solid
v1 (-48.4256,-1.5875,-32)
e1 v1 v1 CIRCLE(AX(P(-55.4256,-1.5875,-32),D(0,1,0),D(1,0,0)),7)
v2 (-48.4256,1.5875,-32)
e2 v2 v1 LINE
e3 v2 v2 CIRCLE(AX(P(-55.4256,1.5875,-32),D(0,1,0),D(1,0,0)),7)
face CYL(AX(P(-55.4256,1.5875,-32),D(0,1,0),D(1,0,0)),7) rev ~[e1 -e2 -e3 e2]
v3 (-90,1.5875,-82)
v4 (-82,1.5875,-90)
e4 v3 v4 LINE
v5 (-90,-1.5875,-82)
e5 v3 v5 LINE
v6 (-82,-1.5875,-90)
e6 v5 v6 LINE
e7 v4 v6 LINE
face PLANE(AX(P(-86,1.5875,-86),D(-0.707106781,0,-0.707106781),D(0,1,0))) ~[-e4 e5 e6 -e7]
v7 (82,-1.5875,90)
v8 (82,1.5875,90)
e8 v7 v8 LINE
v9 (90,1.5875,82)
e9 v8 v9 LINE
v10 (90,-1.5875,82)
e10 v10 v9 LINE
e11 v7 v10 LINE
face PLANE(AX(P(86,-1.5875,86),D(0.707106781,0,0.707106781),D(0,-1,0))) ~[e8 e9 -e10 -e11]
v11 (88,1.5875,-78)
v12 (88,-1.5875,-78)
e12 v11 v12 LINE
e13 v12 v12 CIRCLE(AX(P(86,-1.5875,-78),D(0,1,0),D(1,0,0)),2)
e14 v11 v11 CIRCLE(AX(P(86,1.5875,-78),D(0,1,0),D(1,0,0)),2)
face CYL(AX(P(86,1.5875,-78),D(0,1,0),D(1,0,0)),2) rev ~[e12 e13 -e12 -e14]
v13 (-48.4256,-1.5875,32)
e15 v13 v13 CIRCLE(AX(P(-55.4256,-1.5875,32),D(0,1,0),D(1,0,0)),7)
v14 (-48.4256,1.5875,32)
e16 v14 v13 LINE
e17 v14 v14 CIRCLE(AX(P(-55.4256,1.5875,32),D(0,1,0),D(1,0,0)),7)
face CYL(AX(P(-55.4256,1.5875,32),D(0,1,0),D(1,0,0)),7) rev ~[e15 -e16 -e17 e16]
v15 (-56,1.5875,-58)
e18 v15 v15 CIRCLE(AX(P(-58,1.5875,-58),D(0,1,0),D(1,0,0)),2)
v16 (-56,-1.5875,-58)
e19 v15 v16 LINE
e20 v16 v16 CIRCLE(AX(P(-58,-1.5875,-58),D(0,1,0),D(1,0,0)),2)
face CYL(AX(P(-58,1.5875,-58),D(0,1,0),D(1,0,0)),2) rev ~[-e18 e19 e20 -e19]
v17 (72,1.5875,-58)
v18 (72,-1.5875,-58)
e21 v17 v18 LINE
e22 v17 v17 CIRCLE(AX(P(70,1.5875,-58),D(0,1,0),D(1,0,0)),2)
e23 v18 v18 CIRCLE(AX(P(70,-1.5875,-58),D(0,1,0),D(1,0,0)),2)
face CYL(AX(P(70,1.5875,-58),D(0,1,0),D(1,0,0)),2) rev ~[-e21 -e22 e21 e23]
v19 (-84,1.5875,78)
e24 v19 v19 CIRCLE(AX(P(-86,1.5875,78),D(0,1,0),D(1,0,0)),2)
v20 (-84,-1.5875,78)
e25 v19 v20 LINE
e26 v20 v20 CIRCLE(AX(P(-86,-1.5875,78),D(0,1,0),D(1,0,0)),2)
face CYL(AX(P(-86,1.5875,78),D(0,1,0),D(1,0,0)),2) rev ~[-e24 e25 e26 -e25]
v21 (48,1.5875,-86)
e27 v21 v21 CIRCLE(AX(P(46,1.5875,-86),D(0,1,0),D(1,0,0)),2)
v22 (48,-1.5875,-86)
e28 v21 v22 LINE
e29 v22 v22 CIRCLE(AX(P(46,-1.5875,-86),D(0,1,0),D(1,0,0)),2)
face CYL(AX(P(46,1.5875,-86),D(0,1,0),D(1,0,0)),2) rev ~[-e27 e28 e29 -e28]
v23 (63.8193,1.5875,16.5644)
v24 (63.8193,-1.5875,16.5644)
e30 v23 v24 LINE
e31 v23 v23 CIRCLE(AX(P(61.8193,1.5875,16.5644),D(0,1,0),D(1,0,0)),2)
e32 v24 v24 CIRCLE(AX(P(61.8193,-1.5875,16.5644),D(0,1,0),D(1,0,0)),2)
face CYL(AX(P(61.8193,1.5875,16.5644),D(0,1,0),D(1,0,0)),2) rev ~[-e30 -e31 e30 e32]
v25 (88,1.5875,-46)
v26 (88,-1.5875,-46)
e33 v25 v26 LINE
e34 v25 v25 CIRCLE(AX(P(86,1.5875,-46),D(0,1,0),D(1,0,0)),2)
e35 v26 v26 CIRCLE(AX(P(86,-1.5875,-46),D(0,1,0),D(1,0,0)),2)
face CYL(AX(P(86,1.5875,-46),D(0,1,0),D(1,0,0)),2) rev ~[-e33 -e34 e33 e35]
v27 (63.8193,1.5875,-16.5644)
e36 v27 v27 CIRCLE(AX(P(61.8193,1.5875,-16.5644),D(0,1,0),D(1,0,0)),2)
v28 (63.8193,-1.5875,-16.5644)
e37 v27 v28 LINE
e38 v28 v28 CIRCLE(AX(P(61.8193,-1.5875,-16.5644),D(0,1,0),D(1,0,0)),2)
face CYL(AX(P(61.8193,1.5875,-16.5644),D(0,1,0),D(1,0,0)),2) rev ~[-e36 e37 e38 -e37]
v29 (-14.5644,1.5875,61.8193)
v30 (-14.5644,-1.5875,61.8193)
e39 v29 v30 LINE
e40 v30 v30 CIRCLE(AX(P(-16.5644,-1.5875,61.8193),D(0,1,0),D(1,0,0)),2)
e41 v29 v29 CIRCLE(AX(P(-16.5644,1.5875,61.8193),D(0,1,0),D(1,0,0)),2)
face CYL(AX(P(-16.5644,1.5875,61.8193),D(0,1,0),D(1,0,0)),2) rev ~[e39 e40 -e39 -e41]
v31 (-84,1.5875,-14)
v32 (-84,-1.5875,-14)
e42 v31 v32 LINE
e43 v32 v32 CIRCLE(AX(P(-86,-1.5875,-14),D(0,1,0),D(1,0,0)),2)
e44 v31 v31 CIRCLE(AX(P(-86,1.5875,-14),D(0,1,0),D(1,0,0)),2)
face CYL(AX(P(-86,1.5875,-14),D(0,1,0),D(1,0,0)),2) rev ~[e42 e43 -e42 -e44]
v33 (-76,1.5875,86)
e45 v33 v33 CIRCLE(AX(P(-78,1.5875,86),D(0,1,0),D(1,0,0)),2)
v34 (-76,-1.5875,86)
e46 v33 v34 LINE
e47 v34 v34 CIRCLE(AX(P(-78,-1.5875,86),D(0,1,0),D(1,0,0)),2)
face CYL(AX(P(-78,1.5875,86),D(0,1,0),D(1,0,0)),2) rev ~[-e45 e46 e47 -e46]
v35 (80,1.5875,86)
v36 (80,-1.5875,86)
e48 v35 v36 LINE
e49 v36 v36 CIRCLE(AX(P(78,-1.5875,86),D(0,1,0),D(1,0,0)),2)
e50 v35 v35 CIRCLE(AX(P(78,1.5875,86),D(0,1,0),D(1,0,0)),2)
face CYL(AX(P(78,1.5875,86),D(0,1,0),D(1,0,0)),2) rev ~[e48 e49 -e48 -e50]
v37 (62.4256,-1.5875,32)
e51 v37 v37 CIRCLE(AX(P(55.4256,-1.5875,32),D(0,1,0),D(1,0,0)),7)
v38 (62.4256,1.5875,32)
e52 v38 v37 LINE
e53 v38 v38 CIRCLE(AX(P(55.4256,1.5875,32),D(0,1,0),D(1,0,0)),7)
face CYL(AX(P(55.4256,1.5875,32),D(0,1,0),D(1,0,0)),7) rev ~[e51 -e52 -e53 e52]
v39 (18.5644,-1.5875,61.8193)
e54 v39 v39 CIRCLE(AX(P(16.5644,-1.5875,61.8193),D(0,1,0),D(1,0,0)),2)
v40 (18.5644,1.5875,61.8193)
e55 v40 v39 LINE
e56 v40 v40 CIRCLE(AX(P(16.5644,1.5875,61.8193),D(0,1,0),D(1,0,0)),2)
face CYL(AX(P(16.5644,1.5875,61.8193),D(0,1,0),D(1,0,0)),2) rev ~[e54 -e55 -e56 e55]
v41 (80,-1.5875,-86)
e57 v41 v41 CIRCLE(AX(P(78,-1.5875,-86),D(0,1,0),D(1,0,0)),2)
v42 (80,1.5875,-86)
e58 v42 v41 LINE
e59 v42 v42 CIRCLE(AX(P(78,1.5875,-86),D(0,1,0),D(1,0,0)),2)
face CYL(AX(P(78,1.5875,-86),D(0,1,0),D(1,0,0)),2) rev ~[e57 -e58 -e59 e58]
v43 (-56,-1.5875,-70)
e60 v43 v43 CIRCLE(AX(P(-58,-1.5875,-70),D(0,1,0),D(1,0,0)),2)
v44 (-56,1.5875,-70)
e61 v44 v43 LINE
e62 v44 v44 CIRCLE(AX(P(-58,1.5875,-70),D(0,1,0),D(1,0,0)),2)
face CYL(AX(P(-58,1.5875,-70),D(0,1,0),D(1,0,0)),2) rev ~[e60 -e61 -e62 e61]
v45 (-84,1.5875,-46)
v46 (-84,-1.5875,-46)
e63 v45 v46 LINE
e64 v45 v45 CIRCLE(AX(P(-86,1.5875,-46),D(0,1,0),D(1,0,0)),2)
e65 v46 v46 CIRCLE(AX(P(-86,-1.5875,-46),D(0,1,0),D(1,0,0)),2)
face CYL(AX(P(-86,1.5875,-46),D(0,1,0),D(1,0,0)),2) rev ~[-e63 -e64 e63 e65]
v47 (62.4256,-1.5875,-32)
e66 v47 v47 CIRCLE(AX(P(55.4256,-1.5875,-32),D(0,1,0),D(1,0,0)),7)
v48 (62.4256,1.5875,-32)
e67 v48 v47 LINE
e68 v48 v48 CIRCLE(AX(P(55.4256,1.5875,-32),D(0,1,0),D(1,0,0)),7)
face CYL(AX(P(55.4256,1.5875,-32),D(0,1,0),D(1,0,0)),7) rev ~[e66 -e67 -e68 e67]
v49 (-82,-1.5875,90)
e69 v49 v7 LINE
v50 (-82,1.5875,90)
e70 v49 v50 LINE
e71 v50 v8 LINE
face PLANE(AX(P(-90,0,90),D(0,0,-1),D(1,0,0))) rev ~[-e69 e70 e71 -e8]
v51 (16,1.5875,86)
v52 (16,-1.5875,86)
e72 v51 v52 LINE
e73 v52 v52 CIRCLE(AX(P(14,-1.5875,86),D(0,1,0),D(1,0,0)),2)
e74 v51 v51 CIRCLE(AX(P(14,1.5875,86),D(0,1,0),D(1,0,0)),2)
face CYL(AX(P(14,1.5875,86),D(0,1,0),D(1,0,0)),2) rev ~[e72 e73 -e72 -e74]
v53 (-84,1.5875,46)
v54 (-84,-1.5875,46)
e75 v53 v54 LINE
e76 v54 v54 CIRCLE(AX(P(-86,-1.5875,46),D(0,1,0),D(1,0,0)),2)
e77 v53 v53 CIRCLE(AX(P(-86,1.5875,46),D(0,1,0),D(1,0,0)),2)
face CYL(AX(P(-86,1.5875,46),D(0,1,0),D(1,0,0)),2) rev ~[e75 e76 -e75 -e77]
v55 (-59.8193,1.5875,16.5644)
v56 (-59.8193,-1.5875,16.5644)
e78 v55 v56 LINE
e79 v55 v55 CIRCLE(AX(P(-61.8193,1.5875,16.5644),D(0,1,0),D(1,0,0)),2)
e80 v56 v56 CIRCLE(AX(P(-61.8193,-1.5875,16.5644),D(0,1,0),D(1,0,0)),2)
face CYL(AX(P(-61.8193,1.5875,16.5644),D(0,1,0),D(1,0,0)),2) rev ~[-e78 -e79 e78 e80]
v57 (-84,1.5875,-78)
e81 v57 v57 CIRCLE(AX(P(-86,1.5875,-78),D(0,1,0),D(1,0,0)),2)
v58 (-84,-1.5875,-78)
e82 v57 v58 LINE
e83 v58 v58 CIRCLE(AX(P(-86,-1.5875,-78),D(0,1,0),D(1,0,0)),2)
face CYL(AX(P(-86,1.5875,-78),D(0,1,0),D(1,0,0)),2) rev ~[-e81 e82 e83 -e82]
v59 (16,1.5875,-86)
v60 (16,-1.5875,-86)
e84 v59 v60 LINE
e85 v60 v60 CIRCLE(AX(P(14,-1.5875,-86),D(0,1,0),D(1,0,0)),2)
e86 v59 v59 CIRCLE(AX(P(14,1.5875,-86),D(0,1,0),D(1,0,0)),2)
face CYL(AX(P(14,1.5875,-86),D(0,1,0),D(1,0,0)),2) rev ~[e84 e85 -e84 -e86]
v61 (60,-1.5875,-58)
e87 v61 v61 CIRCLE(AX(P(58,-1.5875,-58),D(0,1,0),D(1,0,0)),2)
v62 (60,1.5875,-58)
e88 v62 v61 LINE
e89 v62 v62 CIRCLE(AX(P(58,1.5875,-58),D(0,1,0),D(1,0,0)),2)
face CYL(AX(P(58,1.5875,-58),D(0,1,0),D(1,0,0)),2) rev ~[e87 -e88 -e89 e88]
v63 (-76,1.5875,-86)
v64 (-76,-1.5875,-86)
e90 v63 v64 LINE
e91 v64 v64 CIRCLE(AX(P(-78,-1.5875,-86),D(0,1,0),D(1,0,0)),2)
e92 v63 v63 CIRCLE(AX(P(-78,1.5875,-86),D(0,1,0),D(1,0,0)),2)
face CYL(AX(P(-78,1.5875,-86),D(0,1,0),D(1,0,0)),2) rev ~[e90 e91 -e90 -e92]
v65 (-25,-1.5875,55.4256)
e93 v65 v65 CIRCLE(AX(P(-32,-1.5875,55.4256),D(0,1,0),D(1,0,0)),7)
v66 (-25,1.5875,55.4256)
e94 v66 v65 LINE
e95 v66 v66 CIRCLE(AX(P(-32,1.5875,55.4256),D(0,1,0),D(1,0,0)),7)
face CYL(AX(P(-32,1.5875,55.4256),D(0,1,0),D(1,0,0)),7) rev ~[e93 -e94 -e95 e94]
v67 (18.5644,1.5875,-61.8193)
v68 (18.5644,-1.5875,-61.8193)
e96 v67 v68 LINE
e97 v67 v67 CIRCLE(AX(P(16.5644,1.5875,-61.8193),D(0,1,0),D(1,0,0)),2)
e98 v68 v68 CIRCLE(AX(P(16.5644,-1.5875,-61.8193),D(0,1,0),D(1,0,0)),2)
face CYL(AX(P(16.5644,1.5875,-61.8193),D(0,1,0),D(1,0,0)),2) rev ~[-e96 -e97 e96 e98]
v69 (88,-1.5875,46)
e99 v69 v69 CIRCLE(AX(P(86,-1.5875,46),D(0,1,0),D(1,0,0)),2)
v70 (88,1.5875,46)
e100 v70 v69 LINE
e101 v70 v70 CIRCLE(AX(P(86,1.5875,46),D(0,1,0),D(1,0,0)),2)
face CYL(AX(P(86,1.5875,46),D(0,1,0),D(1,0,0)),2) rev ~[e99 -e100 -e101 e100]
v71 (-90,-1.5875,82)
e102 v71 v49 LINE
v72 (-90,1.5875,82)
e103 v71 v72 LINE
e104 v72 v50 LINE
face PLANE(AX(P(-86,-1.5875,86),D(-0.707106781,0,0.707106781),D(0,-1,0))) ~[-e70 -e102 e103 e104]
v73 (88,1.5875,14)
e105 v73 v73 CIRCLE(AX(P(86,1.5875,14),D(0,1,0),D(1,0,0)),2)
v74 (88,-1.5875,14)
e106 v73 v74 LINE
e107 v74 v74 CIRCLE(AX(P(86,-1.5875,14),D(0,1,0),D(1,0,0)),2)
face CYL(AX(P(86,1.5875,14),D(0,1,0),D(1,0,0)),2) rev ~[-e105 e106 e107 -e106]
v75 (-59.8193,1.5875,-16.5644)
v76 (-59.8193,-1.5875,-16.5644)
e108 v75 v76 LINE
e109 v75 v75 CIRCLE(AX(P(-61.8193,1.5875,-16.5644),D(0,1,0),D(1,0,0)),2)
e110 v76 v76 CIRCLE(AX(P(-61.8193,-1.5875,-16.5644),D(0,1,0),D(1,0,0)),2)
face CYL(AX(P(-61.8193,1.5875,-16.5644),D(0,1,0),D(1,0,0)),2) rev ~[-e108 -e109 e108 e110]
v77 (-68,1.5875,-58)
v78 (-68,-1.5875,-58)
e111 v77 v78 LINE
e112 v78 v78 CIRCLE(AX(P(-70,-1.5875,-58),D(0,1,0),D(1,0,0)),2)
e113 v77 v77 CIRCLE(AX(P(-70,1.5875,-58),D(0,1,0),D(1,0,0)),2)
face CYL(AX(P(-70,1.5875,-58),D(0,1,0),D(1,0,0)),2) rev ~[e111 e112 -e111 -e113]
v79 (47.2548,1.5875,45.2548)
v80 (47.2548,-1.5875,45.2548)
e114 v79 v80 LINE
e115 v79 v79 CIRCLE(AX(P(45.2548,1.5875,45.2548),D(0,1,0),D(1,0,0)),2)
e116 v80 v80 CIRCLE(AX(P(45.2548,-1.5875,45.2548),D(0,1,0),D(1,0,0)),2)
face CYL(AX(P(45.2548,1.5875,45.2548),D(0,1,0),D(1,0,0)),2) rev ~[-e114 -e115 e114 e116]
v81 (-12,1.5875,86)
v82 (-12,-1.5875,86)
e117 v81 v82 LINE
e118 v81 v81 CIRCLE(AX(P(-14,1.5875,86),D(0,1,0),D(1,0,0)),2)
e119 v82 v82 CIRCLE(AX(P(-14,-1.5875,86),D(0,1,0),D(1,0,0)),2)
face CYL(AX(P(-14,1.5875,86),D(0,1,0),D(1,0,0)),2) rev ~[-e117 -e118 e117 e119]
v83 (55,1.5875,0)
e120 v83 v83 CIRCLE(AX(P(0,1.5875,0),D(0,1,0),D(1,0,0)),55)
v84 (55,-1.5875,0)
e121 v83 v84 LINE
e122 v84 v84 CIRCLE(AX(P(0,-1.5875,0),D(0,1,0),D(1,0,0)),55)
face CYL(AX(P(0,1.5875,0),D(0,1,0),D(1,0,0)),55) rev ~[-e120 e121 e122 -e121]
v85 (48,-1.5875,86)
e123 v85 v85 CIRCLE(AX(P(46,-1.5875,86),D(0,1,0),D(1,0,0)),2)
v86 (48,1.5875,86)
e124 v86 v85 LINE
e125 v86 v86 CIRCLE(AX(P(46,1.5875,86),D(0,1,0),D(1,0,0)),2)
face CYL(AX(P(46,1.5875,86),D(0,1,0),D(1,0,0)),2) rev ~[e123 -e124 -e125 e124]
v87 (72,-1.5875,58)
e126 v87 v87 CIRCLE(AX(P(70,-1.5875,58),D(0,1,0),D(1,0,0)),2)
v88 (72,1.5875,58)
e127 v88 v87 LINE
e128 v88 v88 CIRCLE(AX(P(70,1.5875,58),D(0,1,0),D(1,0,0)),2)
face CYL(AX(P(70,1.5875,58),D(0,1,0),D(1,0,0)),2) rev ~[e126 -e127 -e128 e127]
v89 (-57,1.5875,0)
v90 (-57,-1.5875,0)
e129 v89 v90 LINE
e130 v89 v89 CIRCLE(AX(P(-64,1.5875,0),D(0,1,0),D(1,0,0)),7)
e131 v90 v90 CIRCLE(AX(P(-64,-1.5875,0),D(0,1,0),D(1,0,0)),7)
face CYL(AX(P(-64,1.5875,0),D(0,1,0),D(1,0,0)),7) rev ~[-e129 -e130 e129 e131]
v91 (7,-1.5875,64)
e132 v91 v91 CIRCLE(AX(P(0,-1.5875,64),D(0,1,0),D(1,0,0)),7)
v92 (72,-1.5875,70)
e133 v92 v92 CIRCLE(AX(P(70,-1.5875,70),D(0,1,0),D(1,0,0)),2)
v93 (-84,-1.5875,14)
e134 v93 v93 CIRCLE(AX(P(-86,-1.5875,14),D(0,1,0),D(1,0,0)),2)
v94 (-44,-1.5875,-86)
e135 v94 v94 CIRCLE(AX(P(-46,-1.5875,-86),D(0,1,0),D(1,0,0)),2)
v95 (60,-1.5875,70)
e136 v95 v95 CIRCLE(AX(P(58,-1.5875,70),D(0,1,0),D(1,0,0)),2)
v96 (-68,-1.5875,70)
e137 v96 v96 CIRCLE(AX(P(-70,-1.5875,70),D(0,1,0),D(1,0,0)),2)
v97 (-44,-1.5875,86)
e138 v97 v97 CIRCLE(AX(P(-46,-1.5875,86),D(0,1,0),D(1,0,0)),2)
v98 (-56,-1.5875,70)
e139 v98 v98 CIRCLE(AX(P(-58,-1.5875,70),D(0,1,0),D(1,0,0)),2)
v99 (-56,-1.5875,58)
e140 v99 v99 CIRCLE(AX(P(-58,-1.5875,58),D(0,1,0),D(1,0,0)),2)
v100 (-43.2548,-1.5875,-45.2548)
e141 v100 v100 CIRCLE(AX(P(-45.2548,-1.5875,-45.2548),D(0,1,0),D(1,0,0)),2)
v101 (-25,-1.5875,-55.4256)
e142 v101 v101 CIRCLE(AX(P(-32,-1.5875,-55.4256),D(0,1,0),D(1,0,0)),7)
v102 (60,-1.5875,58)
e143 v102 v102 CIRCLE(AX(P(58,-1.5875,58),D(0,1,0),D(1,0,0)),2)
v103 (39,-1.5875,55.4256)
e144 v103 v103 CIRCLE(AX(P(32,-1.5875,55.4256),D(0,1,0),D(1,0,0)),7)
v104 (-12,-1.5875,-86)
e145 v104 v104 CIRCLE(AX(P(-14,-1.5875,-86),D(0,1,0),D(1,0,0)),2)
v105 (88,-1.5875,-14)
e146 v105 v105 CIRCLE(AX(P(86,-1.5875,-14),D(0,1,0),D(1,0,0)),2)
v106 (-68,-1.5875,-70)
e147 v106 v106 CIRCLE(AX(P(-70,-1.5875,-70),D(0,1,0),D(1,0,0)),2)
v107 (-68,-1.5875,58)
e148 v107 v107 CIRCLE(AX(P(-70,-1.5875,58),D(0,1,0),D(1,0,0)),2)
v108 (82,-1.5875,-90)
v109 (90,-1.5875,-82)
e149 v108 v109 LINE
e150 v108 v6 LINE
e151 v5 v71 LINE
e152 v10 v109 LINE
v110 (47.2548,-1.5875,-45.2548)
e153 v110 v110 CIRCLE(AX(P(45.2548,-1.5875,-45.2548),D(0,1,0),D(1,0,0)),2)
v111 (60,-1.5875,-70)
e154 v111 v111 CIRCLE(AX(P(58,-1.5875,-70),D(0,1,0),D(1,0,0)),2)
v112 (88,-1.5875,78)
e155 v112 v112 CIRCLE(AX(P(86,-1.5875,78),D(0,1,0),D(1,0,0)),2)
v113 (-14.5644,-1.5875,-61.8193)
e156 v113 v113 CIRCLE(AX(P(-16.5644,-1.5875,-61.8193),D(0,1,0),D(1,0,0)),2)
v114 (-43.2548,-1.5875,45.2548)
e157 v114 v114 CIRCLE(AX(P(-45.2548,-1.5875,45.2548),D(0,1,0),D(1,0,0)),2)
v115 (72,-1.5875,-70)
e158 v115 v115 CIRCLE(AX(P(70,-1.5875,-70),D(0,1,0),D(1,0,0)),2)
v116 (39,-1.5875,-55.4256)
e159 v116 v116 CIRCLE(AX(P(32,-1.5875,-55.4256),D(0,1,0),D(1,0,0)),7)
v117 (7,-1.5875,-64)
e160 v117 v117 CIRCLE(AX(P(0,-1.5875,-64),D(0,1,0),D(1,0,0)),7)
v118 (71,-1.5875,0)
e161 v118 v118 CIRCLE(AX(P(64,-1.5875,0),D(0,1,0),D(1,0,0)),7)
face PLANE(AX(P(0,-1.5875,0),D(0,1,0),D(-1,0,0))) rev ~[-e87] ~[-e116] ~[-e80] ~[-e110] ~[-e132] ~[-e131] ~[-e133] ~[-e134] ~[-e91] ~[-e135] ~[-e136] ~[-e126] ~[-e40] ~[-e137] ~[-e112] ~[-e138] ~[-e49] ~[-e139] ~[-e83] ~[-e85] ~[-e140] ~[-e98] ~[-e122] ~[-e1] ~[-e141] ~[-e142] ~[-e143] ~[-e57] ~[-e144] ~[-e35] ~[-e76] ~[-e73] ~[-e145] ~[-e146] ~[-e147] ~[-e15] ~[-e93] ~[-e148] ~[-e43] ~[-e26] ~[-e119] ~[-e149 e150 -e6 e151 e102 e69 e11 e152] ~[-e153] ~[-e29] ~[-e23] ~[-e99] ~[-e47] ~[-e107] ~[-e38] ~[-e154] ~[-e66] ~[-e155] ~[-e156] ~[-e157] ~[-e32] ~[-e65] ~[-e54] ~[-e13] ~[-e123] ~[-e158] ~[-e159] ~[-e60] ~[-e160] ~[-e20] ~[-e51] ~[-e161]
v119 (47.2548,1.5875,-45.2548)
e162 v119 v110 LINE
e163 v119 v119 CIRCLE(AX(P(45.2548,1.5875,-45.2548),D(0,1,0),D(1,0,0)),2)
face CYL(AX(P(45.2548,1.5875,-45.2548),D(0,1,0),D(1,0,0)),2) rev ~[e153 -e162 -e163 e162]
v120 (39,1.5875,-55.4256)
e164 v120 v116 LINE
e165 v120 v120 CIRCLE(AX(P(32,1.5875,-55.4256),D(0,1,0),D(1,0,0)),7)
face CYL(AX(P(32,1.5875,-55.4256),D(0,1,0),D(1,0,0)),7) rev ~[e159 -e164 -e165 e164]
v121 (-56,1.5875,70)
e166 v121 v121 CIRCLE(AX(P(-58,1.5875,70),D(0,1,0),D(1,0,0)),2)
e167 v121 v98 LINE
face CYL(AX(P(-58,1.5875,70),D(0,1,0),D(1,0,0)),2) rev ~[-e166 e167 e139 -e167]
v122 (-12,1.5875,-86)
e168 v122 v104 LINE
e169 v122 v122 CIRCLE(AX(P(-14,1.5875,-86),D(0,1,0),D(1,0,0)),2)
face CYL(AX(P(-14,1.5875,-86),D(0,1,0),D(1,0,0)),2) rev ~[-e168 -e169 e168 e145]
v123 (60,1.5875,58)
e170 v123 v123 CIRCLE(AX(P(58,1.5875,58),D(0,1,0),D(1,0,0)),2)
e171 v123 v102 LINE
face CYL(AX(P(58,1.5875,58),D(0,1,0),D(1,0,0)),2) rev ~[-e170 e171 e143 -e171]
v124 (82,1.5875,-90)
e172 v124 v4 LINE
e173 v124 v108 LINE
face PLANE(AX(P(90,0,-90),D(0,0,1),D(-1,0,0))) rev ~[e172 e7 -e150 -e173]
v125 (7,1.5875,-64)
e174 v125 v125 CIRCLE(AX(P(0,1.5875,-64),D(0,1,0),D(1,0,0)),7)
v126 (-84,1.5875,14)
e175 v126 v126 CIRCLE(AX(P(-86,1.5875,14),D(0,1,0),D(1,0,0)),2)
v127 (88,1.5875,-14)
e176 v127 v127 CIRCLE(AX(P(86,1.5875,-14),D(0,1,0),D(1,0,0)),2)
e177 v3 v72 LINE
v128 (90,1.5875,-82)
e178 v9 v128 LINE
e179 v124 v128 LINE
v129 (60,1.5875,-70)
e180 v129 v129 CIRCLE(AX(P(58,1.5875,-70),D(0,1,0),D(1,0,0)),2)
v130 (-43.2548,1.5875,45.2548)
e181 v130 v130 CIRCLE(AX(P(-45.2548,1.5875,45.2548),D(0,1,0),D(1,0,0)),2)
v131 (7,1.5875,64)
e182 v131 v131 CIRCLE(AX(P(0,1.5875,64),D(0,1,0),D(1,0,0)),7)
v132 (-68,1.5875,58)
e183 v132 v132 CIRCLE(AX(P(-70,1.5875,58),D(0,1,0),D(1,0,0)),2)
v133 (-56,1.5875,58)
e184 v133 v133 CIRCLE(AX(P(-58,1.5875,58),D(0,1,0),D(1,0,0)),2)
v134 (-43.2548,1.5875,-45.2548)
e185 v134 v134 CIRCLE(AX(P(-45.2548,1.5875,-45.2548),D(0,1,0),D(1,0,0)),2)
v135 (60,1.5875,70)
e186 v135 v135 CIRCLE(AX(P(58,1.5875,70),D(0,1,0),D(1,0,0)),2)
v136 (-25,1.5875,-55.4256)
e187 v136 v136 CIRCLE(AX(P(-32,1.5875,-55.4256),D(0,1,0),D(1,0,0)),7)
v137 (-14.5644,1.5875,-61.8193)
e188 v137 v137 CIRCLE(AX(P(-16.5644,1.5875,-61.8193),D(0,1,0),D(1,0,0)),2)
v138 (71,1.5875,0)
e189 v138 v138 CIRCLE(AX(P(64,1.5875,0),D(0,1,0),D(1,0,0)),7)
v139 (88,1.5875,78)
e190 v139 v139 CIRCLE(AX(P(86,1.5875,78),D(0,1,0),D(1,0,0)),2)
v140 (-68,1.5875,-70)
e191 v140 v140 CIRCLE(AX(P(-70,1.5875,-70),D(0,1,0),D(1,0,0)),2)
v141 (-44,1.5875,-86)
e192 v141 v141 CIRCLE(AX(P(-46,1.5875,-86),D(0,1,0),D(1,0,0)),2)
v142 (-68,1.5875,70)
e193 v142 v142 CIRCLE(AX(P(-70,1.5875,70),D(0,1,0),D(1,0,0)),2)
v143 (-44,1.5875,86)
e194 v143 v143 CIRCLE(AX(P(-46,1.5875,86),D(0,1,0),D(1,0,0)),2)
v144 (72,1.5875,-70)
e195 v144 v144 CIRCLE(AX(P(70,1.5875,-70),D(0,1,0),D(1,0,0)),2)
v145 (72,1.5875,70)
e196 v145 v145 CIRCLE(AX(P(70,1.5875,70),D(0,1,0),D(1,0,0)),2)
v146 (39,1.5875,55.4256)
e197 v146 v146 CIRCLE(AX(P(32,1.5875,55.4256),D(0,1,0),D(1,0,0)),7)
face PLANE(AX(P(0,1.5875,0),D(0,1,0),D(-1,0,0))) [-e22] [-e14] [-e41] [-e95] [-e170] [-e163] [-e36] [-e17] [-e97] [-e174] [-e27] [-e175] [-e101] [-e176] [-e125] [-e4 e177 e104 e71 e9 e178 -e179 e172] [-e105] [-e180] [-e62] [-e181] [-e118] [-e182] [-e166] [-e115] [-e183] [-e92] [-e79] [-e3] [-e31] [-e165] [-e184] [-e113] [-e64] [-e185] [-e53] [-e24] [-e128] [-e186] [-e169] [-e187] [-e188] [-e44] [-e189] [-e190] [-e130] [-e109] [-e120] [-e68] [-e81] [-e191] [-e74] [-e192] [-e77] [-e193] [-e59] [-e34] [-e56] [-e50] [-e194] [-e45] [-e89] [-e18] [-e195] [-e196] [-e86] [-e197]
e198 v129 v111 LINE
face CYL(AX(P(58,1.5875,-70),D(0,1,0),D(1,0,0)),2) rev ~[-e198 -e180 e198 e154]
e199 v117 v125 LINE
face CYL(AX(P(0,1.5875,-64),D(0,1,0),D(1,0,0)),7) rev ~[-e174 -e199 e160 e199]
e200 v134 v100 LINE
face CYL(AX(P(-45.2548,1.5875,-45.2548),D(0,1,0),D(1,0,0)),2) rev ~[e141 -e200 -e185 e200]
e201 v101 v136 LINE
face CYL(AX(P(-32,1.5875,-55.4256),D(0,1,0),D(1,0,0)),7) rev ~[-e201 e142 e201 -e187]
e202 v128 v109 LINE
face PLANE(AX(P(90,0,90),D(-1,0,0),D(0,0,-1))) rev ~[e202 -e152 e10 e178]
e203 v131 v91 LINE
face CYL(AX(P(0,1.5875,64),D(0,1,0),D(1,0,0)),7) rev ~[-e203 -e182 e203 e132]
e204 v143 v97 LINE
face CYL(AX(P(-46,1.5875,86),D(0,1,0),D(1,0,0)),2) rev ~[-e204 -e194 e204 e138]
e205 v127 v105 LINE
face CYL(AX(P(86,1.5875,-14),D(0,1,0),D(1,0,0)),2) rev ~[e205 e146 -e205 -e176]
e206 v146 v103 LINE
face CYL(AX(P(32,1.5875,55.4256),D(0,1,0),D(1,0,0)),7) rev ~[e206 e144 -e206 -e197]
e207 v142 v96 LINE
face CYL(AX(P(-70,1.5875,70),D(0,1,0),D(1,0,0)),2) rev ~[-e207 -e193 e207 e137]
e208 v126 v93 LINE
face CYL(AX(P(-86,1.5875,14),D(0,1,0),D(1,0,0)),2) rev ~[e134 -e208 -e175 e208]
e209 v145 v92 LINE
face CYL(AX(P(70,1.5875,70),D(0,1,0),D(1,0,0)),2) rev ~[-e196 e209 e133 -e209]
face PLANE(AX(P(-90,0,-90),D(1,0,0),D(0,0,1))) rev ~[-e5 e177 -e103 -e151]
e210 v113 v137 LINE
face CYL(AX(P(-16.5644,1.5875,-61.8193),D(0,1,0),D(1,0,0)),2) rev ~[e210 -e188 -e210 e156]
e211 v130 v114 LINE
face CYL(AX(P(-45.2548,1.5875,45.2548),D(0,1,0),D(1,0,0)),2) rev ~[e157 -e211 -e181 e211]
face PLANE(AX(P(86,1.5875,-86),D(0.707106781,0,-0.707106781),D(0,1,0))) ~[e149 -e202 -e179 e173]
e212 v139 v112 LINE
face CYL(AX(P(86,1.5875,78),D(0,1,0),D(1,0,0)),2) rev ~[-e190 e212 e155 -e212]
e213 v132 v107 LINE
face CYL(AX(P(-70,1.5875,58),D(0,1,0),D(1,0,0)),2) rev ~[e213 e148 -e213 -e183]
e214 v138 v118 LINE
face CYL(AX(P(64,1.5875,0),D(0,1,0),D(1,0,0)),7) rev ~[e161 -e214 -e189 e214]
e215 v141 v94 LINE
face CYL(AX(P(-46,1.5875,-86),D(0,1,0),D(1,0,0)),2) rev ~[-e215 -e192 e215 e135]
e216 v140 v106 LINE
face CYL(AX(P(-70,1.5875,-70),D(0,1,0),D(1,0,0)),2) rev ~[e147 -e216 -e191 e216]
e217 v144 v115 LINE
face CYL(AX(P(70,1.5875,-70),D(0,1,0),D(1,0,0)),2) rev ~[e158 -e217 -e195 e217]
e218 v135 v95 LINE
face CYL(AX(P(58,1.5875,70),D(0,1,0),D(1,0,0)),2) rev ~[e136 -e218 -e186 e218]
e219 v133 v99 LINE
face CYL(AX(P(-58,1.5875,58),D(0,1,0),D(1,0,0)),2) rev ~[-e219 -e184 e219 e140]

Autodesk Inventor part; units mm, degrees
ref_plane "YZ Plane" through (0, 0, 0) normal (1, 0, 0) x (0, 1, 0)
ref_plane "XZ Plane" through (0, 0, 0) normal (0, 1, 0) x (-1, 0, 0)
ref_plane "XY Plane" through (0, 0, 0) normal (0, 0, 1) x (1, 0, 0)
sketch "Sketch1" plane through (0, 0, 0) normal (0, 1, 0) x (-1, 0, 0)
  line L0 (90, 90) -> (-90, 90)
  line L1 (-90, 90) -> (-90, -90)
  line L2 (-90, -90) -> (90, -90)
  line L3 (90, -90) -> (90, 90)
  line L4 (90, 90) -> (-90, -90) construction
  line L5 (-90, 90) -> (90, -90) construction
  point P0 (0, 0)
  dimension "d0" = 180
  dimension "d1" = 180
extrude "Extrusion1" add sketch "Sketch1" along normal mid plane 3.175
sketch "Sketch2" plane through (0, 1.5875, 0) normal (0, 1, 0) x (1, 0, 0)
  line L0 (90, -90) -> (90, 90) construction
  line L1 (90, 90) -> (-90, 90) construction
  line L2 (-90, 90) -> (-90, -90) construction
  line L3 (-90, -90) -> (90, -90) construction
  circle A0 centre (-64, 64) radius 2.5 construction
  line L4 (0, 90) -> (0, -90) construction
  line L5 (-90, 0) -> (90, 0) construction
  circle A1 centre (-58, 58) radius 2
  circle A2 centre (-58, 70) radius 2
  circle A3 centre (-70, 70) radius 2
  circle A4 centre (-70, 58) radius 2
  circle A5 centre (64, 64) radius 2.5 construction
  circle A6 centre (58, 58) radius 2
  circle A7 centre (58, 70) radius 2
  circle A8 centre (70, 70) radius 2
  circle A9 centre (70, 58) radius 2
  circle A10 centre (-64, -64) radius 2.5 construction
  circle A11 centre (-58, -58) radius 2
  circle A12 centre (-58, -70) radius 2
  circle A13 centre (-70, -70) radius 2
  circle A14 centre (-70, -58) radius 2
  circle A15 centre (64, -64) radius 2.5 construction
  circle A16 centre (58, -58) radius 2
  circle A17 centre (58, -70) radius 2
  circle A18 centre (70, -70) radius 2
  circle A19 centre (70, -58) radius 2
  point P0 (0, 0)
  dimension "d4" = 5
  dimension "d5" = 64
  dimension "d6" = 64
  dimension "d7" = 4
  dimension "d8" = 6
  dimension "d9" = 6
  dimension "d12" = 360
extrude "Extrusion2" cut sketch "Sketch2" against normal through all
chamfer "Chamfer1" distance 8 angle 45 4 edges at (90, 0, 90) (90, 0, -90) (-90, 0, 90) (-90, 0, -90)
sketch "Sketch3" plane through (0, 1.5875, 0) normal (0, 1, 0) x (1, 0, 0)
  circle A0 centre (0, 0) radius 55
  dimension "d19" = 110
extrude "Extrusion3" cut sketch "Sketch3" against normal through all
sketch "Sketch4" plane through (0, 1.5875, 0) normal (0, 1, 0) x (1, 0, 0)
  circle A0 centre (0, 64) radius 7
  circle A1 centre (-32, 55.4256) radius 7
  circle A2 centre (-55.4256, 32) radius 7
  circle A3 centre (-64, 0) radius 7
  circle A4 centre (-55.4256, -32) radius 7
  circle A5 centre (-32, -55.4256) radius 7
  circle A6 centre (0, -64) radius 7
  circle A7 centre (32, -55.4256) radius 7
  circle A8 centre (55.4256, -32) radius 7
  circle A9 centre (64, 0) radius 7
  circle A10 centre (55.4256, 32) radius 7
  circle A11 centre (32, 55.4256) radius 7
  arc A12 (0, 64) -> (-32, 55.4256) centre (0, 0) ccw
  line L0 (-16.5644, 61.8193) -> (0, 0) construction
  circle A13 centre (-16.5644, 61.8193) radius 2
  circle A14 centre (-45.2548, 45.2548) radius 2
  circle A15 centre (-61.8193, 16.5644) radius 2
  circle A16 centre (-61.8193, -16.5644) radius 2
  circle A17 centre (-45.2548, -45.2548) radius 2
  circle A18 centre (-16.5644, -61.8193) radius 2
  circle A19 centre (16.5644, -61.8193) radius 2
  circle A20 centre (45.2548, -45.2548) radius 2
  circle A21 centre (61.8193, -16.5644) radius 2
  circle A22 centre (61.8193, 16.5644) radius 2
  circle A23 centre (45.2548, 45.2548) radius 2
  circle A24 centre (16.5644, 61.8193) radius 2
  dimension "d23" = 14
  dimension "d24" = 64
  dimension "d27" = 360
  dimension "d31" = 4
  dimension "d34" = 360
extrude "Extrusion5" cut sketch "Sketch4" along normal blind 10 and the other way blind 5
sketch "Sketch8" plane through (0, 1.5875, 0) normal (0, 1, 0) x (1, 0, 0)
  circle A0 centre (-78, -86) radius 2
  line L0 (-90, 82) -> (-90, -82) projected
  line L1 (-82, -90) -> (82, -90) projected
  circle A1 centre (-46, -86) radius 2
  circle A2 centre (-14, -86) radius 2
  circle A3 centre (86, -78) radius 2
  line L2 (90, -82) -> (90, 82) projected
  circle A4 centre (86, -46) radius 2
  circle A5 centre (86, -14) radius 2
  circle A6 centre (78, 86) radius 2
  line L3 (82, 90) -> (-82, 90) projected
  circle A7 centre (46, 86) radius 2
  circle A8 centre (14, 86) radius 2
  circle A9 centre (-86, 78) radius 2
  circle A10 centre (-86, 46) radius 2
  circle A11 centre (-86, 14) radius 2
  circle A12 centre (0, 0) radius 55 construction
  line L4 (0, 55) -> (0, -55) construction
  line L5 (-55, 0) -> (55, 0) construction
  circle A13 centre (78, -86) radius 2
  circle A14 centre (46, -86) radius 2
  circle A15 centre (14, -86) radius 2
  circle A16 centre (86, 78) radius 2
  circle A17 centre (86, 46) radius 2
  circle A18 centre (86, 14) radius 2
  circle A19 centre (-78, 86) radius 2
  circle A20 centre (-46, 86) radius 2
  circle A21 centre (-14, 86) radius 2
  circle A22 centre (-86, -78) radius 2
  circle A23 centre (-86, -46) radius 2
  circle A24 centre (-86, -14) radius 2
  dimension "d63" = 4
  dimension "d65" = 4
  dimension "d68" = 32
  dimension "d73" = 4
  dimension "d74" = 4
  dimension "d75" = 12
  dimension "d78" = 32
  dimension "d85" = 4
  dimension "d86" = 4
  dimension "d87" = 12
  dimension "d90" = 32
  dimension "d97" = 4
  dimension "d98" = 4
  dimension "d99" = 12
  dimension "d102" = 32
  dimension "d109" = 4
extrude "Extrusion8" cut sketch "Sketch8" against normal through all
properties part number "TurretBasePlate"
